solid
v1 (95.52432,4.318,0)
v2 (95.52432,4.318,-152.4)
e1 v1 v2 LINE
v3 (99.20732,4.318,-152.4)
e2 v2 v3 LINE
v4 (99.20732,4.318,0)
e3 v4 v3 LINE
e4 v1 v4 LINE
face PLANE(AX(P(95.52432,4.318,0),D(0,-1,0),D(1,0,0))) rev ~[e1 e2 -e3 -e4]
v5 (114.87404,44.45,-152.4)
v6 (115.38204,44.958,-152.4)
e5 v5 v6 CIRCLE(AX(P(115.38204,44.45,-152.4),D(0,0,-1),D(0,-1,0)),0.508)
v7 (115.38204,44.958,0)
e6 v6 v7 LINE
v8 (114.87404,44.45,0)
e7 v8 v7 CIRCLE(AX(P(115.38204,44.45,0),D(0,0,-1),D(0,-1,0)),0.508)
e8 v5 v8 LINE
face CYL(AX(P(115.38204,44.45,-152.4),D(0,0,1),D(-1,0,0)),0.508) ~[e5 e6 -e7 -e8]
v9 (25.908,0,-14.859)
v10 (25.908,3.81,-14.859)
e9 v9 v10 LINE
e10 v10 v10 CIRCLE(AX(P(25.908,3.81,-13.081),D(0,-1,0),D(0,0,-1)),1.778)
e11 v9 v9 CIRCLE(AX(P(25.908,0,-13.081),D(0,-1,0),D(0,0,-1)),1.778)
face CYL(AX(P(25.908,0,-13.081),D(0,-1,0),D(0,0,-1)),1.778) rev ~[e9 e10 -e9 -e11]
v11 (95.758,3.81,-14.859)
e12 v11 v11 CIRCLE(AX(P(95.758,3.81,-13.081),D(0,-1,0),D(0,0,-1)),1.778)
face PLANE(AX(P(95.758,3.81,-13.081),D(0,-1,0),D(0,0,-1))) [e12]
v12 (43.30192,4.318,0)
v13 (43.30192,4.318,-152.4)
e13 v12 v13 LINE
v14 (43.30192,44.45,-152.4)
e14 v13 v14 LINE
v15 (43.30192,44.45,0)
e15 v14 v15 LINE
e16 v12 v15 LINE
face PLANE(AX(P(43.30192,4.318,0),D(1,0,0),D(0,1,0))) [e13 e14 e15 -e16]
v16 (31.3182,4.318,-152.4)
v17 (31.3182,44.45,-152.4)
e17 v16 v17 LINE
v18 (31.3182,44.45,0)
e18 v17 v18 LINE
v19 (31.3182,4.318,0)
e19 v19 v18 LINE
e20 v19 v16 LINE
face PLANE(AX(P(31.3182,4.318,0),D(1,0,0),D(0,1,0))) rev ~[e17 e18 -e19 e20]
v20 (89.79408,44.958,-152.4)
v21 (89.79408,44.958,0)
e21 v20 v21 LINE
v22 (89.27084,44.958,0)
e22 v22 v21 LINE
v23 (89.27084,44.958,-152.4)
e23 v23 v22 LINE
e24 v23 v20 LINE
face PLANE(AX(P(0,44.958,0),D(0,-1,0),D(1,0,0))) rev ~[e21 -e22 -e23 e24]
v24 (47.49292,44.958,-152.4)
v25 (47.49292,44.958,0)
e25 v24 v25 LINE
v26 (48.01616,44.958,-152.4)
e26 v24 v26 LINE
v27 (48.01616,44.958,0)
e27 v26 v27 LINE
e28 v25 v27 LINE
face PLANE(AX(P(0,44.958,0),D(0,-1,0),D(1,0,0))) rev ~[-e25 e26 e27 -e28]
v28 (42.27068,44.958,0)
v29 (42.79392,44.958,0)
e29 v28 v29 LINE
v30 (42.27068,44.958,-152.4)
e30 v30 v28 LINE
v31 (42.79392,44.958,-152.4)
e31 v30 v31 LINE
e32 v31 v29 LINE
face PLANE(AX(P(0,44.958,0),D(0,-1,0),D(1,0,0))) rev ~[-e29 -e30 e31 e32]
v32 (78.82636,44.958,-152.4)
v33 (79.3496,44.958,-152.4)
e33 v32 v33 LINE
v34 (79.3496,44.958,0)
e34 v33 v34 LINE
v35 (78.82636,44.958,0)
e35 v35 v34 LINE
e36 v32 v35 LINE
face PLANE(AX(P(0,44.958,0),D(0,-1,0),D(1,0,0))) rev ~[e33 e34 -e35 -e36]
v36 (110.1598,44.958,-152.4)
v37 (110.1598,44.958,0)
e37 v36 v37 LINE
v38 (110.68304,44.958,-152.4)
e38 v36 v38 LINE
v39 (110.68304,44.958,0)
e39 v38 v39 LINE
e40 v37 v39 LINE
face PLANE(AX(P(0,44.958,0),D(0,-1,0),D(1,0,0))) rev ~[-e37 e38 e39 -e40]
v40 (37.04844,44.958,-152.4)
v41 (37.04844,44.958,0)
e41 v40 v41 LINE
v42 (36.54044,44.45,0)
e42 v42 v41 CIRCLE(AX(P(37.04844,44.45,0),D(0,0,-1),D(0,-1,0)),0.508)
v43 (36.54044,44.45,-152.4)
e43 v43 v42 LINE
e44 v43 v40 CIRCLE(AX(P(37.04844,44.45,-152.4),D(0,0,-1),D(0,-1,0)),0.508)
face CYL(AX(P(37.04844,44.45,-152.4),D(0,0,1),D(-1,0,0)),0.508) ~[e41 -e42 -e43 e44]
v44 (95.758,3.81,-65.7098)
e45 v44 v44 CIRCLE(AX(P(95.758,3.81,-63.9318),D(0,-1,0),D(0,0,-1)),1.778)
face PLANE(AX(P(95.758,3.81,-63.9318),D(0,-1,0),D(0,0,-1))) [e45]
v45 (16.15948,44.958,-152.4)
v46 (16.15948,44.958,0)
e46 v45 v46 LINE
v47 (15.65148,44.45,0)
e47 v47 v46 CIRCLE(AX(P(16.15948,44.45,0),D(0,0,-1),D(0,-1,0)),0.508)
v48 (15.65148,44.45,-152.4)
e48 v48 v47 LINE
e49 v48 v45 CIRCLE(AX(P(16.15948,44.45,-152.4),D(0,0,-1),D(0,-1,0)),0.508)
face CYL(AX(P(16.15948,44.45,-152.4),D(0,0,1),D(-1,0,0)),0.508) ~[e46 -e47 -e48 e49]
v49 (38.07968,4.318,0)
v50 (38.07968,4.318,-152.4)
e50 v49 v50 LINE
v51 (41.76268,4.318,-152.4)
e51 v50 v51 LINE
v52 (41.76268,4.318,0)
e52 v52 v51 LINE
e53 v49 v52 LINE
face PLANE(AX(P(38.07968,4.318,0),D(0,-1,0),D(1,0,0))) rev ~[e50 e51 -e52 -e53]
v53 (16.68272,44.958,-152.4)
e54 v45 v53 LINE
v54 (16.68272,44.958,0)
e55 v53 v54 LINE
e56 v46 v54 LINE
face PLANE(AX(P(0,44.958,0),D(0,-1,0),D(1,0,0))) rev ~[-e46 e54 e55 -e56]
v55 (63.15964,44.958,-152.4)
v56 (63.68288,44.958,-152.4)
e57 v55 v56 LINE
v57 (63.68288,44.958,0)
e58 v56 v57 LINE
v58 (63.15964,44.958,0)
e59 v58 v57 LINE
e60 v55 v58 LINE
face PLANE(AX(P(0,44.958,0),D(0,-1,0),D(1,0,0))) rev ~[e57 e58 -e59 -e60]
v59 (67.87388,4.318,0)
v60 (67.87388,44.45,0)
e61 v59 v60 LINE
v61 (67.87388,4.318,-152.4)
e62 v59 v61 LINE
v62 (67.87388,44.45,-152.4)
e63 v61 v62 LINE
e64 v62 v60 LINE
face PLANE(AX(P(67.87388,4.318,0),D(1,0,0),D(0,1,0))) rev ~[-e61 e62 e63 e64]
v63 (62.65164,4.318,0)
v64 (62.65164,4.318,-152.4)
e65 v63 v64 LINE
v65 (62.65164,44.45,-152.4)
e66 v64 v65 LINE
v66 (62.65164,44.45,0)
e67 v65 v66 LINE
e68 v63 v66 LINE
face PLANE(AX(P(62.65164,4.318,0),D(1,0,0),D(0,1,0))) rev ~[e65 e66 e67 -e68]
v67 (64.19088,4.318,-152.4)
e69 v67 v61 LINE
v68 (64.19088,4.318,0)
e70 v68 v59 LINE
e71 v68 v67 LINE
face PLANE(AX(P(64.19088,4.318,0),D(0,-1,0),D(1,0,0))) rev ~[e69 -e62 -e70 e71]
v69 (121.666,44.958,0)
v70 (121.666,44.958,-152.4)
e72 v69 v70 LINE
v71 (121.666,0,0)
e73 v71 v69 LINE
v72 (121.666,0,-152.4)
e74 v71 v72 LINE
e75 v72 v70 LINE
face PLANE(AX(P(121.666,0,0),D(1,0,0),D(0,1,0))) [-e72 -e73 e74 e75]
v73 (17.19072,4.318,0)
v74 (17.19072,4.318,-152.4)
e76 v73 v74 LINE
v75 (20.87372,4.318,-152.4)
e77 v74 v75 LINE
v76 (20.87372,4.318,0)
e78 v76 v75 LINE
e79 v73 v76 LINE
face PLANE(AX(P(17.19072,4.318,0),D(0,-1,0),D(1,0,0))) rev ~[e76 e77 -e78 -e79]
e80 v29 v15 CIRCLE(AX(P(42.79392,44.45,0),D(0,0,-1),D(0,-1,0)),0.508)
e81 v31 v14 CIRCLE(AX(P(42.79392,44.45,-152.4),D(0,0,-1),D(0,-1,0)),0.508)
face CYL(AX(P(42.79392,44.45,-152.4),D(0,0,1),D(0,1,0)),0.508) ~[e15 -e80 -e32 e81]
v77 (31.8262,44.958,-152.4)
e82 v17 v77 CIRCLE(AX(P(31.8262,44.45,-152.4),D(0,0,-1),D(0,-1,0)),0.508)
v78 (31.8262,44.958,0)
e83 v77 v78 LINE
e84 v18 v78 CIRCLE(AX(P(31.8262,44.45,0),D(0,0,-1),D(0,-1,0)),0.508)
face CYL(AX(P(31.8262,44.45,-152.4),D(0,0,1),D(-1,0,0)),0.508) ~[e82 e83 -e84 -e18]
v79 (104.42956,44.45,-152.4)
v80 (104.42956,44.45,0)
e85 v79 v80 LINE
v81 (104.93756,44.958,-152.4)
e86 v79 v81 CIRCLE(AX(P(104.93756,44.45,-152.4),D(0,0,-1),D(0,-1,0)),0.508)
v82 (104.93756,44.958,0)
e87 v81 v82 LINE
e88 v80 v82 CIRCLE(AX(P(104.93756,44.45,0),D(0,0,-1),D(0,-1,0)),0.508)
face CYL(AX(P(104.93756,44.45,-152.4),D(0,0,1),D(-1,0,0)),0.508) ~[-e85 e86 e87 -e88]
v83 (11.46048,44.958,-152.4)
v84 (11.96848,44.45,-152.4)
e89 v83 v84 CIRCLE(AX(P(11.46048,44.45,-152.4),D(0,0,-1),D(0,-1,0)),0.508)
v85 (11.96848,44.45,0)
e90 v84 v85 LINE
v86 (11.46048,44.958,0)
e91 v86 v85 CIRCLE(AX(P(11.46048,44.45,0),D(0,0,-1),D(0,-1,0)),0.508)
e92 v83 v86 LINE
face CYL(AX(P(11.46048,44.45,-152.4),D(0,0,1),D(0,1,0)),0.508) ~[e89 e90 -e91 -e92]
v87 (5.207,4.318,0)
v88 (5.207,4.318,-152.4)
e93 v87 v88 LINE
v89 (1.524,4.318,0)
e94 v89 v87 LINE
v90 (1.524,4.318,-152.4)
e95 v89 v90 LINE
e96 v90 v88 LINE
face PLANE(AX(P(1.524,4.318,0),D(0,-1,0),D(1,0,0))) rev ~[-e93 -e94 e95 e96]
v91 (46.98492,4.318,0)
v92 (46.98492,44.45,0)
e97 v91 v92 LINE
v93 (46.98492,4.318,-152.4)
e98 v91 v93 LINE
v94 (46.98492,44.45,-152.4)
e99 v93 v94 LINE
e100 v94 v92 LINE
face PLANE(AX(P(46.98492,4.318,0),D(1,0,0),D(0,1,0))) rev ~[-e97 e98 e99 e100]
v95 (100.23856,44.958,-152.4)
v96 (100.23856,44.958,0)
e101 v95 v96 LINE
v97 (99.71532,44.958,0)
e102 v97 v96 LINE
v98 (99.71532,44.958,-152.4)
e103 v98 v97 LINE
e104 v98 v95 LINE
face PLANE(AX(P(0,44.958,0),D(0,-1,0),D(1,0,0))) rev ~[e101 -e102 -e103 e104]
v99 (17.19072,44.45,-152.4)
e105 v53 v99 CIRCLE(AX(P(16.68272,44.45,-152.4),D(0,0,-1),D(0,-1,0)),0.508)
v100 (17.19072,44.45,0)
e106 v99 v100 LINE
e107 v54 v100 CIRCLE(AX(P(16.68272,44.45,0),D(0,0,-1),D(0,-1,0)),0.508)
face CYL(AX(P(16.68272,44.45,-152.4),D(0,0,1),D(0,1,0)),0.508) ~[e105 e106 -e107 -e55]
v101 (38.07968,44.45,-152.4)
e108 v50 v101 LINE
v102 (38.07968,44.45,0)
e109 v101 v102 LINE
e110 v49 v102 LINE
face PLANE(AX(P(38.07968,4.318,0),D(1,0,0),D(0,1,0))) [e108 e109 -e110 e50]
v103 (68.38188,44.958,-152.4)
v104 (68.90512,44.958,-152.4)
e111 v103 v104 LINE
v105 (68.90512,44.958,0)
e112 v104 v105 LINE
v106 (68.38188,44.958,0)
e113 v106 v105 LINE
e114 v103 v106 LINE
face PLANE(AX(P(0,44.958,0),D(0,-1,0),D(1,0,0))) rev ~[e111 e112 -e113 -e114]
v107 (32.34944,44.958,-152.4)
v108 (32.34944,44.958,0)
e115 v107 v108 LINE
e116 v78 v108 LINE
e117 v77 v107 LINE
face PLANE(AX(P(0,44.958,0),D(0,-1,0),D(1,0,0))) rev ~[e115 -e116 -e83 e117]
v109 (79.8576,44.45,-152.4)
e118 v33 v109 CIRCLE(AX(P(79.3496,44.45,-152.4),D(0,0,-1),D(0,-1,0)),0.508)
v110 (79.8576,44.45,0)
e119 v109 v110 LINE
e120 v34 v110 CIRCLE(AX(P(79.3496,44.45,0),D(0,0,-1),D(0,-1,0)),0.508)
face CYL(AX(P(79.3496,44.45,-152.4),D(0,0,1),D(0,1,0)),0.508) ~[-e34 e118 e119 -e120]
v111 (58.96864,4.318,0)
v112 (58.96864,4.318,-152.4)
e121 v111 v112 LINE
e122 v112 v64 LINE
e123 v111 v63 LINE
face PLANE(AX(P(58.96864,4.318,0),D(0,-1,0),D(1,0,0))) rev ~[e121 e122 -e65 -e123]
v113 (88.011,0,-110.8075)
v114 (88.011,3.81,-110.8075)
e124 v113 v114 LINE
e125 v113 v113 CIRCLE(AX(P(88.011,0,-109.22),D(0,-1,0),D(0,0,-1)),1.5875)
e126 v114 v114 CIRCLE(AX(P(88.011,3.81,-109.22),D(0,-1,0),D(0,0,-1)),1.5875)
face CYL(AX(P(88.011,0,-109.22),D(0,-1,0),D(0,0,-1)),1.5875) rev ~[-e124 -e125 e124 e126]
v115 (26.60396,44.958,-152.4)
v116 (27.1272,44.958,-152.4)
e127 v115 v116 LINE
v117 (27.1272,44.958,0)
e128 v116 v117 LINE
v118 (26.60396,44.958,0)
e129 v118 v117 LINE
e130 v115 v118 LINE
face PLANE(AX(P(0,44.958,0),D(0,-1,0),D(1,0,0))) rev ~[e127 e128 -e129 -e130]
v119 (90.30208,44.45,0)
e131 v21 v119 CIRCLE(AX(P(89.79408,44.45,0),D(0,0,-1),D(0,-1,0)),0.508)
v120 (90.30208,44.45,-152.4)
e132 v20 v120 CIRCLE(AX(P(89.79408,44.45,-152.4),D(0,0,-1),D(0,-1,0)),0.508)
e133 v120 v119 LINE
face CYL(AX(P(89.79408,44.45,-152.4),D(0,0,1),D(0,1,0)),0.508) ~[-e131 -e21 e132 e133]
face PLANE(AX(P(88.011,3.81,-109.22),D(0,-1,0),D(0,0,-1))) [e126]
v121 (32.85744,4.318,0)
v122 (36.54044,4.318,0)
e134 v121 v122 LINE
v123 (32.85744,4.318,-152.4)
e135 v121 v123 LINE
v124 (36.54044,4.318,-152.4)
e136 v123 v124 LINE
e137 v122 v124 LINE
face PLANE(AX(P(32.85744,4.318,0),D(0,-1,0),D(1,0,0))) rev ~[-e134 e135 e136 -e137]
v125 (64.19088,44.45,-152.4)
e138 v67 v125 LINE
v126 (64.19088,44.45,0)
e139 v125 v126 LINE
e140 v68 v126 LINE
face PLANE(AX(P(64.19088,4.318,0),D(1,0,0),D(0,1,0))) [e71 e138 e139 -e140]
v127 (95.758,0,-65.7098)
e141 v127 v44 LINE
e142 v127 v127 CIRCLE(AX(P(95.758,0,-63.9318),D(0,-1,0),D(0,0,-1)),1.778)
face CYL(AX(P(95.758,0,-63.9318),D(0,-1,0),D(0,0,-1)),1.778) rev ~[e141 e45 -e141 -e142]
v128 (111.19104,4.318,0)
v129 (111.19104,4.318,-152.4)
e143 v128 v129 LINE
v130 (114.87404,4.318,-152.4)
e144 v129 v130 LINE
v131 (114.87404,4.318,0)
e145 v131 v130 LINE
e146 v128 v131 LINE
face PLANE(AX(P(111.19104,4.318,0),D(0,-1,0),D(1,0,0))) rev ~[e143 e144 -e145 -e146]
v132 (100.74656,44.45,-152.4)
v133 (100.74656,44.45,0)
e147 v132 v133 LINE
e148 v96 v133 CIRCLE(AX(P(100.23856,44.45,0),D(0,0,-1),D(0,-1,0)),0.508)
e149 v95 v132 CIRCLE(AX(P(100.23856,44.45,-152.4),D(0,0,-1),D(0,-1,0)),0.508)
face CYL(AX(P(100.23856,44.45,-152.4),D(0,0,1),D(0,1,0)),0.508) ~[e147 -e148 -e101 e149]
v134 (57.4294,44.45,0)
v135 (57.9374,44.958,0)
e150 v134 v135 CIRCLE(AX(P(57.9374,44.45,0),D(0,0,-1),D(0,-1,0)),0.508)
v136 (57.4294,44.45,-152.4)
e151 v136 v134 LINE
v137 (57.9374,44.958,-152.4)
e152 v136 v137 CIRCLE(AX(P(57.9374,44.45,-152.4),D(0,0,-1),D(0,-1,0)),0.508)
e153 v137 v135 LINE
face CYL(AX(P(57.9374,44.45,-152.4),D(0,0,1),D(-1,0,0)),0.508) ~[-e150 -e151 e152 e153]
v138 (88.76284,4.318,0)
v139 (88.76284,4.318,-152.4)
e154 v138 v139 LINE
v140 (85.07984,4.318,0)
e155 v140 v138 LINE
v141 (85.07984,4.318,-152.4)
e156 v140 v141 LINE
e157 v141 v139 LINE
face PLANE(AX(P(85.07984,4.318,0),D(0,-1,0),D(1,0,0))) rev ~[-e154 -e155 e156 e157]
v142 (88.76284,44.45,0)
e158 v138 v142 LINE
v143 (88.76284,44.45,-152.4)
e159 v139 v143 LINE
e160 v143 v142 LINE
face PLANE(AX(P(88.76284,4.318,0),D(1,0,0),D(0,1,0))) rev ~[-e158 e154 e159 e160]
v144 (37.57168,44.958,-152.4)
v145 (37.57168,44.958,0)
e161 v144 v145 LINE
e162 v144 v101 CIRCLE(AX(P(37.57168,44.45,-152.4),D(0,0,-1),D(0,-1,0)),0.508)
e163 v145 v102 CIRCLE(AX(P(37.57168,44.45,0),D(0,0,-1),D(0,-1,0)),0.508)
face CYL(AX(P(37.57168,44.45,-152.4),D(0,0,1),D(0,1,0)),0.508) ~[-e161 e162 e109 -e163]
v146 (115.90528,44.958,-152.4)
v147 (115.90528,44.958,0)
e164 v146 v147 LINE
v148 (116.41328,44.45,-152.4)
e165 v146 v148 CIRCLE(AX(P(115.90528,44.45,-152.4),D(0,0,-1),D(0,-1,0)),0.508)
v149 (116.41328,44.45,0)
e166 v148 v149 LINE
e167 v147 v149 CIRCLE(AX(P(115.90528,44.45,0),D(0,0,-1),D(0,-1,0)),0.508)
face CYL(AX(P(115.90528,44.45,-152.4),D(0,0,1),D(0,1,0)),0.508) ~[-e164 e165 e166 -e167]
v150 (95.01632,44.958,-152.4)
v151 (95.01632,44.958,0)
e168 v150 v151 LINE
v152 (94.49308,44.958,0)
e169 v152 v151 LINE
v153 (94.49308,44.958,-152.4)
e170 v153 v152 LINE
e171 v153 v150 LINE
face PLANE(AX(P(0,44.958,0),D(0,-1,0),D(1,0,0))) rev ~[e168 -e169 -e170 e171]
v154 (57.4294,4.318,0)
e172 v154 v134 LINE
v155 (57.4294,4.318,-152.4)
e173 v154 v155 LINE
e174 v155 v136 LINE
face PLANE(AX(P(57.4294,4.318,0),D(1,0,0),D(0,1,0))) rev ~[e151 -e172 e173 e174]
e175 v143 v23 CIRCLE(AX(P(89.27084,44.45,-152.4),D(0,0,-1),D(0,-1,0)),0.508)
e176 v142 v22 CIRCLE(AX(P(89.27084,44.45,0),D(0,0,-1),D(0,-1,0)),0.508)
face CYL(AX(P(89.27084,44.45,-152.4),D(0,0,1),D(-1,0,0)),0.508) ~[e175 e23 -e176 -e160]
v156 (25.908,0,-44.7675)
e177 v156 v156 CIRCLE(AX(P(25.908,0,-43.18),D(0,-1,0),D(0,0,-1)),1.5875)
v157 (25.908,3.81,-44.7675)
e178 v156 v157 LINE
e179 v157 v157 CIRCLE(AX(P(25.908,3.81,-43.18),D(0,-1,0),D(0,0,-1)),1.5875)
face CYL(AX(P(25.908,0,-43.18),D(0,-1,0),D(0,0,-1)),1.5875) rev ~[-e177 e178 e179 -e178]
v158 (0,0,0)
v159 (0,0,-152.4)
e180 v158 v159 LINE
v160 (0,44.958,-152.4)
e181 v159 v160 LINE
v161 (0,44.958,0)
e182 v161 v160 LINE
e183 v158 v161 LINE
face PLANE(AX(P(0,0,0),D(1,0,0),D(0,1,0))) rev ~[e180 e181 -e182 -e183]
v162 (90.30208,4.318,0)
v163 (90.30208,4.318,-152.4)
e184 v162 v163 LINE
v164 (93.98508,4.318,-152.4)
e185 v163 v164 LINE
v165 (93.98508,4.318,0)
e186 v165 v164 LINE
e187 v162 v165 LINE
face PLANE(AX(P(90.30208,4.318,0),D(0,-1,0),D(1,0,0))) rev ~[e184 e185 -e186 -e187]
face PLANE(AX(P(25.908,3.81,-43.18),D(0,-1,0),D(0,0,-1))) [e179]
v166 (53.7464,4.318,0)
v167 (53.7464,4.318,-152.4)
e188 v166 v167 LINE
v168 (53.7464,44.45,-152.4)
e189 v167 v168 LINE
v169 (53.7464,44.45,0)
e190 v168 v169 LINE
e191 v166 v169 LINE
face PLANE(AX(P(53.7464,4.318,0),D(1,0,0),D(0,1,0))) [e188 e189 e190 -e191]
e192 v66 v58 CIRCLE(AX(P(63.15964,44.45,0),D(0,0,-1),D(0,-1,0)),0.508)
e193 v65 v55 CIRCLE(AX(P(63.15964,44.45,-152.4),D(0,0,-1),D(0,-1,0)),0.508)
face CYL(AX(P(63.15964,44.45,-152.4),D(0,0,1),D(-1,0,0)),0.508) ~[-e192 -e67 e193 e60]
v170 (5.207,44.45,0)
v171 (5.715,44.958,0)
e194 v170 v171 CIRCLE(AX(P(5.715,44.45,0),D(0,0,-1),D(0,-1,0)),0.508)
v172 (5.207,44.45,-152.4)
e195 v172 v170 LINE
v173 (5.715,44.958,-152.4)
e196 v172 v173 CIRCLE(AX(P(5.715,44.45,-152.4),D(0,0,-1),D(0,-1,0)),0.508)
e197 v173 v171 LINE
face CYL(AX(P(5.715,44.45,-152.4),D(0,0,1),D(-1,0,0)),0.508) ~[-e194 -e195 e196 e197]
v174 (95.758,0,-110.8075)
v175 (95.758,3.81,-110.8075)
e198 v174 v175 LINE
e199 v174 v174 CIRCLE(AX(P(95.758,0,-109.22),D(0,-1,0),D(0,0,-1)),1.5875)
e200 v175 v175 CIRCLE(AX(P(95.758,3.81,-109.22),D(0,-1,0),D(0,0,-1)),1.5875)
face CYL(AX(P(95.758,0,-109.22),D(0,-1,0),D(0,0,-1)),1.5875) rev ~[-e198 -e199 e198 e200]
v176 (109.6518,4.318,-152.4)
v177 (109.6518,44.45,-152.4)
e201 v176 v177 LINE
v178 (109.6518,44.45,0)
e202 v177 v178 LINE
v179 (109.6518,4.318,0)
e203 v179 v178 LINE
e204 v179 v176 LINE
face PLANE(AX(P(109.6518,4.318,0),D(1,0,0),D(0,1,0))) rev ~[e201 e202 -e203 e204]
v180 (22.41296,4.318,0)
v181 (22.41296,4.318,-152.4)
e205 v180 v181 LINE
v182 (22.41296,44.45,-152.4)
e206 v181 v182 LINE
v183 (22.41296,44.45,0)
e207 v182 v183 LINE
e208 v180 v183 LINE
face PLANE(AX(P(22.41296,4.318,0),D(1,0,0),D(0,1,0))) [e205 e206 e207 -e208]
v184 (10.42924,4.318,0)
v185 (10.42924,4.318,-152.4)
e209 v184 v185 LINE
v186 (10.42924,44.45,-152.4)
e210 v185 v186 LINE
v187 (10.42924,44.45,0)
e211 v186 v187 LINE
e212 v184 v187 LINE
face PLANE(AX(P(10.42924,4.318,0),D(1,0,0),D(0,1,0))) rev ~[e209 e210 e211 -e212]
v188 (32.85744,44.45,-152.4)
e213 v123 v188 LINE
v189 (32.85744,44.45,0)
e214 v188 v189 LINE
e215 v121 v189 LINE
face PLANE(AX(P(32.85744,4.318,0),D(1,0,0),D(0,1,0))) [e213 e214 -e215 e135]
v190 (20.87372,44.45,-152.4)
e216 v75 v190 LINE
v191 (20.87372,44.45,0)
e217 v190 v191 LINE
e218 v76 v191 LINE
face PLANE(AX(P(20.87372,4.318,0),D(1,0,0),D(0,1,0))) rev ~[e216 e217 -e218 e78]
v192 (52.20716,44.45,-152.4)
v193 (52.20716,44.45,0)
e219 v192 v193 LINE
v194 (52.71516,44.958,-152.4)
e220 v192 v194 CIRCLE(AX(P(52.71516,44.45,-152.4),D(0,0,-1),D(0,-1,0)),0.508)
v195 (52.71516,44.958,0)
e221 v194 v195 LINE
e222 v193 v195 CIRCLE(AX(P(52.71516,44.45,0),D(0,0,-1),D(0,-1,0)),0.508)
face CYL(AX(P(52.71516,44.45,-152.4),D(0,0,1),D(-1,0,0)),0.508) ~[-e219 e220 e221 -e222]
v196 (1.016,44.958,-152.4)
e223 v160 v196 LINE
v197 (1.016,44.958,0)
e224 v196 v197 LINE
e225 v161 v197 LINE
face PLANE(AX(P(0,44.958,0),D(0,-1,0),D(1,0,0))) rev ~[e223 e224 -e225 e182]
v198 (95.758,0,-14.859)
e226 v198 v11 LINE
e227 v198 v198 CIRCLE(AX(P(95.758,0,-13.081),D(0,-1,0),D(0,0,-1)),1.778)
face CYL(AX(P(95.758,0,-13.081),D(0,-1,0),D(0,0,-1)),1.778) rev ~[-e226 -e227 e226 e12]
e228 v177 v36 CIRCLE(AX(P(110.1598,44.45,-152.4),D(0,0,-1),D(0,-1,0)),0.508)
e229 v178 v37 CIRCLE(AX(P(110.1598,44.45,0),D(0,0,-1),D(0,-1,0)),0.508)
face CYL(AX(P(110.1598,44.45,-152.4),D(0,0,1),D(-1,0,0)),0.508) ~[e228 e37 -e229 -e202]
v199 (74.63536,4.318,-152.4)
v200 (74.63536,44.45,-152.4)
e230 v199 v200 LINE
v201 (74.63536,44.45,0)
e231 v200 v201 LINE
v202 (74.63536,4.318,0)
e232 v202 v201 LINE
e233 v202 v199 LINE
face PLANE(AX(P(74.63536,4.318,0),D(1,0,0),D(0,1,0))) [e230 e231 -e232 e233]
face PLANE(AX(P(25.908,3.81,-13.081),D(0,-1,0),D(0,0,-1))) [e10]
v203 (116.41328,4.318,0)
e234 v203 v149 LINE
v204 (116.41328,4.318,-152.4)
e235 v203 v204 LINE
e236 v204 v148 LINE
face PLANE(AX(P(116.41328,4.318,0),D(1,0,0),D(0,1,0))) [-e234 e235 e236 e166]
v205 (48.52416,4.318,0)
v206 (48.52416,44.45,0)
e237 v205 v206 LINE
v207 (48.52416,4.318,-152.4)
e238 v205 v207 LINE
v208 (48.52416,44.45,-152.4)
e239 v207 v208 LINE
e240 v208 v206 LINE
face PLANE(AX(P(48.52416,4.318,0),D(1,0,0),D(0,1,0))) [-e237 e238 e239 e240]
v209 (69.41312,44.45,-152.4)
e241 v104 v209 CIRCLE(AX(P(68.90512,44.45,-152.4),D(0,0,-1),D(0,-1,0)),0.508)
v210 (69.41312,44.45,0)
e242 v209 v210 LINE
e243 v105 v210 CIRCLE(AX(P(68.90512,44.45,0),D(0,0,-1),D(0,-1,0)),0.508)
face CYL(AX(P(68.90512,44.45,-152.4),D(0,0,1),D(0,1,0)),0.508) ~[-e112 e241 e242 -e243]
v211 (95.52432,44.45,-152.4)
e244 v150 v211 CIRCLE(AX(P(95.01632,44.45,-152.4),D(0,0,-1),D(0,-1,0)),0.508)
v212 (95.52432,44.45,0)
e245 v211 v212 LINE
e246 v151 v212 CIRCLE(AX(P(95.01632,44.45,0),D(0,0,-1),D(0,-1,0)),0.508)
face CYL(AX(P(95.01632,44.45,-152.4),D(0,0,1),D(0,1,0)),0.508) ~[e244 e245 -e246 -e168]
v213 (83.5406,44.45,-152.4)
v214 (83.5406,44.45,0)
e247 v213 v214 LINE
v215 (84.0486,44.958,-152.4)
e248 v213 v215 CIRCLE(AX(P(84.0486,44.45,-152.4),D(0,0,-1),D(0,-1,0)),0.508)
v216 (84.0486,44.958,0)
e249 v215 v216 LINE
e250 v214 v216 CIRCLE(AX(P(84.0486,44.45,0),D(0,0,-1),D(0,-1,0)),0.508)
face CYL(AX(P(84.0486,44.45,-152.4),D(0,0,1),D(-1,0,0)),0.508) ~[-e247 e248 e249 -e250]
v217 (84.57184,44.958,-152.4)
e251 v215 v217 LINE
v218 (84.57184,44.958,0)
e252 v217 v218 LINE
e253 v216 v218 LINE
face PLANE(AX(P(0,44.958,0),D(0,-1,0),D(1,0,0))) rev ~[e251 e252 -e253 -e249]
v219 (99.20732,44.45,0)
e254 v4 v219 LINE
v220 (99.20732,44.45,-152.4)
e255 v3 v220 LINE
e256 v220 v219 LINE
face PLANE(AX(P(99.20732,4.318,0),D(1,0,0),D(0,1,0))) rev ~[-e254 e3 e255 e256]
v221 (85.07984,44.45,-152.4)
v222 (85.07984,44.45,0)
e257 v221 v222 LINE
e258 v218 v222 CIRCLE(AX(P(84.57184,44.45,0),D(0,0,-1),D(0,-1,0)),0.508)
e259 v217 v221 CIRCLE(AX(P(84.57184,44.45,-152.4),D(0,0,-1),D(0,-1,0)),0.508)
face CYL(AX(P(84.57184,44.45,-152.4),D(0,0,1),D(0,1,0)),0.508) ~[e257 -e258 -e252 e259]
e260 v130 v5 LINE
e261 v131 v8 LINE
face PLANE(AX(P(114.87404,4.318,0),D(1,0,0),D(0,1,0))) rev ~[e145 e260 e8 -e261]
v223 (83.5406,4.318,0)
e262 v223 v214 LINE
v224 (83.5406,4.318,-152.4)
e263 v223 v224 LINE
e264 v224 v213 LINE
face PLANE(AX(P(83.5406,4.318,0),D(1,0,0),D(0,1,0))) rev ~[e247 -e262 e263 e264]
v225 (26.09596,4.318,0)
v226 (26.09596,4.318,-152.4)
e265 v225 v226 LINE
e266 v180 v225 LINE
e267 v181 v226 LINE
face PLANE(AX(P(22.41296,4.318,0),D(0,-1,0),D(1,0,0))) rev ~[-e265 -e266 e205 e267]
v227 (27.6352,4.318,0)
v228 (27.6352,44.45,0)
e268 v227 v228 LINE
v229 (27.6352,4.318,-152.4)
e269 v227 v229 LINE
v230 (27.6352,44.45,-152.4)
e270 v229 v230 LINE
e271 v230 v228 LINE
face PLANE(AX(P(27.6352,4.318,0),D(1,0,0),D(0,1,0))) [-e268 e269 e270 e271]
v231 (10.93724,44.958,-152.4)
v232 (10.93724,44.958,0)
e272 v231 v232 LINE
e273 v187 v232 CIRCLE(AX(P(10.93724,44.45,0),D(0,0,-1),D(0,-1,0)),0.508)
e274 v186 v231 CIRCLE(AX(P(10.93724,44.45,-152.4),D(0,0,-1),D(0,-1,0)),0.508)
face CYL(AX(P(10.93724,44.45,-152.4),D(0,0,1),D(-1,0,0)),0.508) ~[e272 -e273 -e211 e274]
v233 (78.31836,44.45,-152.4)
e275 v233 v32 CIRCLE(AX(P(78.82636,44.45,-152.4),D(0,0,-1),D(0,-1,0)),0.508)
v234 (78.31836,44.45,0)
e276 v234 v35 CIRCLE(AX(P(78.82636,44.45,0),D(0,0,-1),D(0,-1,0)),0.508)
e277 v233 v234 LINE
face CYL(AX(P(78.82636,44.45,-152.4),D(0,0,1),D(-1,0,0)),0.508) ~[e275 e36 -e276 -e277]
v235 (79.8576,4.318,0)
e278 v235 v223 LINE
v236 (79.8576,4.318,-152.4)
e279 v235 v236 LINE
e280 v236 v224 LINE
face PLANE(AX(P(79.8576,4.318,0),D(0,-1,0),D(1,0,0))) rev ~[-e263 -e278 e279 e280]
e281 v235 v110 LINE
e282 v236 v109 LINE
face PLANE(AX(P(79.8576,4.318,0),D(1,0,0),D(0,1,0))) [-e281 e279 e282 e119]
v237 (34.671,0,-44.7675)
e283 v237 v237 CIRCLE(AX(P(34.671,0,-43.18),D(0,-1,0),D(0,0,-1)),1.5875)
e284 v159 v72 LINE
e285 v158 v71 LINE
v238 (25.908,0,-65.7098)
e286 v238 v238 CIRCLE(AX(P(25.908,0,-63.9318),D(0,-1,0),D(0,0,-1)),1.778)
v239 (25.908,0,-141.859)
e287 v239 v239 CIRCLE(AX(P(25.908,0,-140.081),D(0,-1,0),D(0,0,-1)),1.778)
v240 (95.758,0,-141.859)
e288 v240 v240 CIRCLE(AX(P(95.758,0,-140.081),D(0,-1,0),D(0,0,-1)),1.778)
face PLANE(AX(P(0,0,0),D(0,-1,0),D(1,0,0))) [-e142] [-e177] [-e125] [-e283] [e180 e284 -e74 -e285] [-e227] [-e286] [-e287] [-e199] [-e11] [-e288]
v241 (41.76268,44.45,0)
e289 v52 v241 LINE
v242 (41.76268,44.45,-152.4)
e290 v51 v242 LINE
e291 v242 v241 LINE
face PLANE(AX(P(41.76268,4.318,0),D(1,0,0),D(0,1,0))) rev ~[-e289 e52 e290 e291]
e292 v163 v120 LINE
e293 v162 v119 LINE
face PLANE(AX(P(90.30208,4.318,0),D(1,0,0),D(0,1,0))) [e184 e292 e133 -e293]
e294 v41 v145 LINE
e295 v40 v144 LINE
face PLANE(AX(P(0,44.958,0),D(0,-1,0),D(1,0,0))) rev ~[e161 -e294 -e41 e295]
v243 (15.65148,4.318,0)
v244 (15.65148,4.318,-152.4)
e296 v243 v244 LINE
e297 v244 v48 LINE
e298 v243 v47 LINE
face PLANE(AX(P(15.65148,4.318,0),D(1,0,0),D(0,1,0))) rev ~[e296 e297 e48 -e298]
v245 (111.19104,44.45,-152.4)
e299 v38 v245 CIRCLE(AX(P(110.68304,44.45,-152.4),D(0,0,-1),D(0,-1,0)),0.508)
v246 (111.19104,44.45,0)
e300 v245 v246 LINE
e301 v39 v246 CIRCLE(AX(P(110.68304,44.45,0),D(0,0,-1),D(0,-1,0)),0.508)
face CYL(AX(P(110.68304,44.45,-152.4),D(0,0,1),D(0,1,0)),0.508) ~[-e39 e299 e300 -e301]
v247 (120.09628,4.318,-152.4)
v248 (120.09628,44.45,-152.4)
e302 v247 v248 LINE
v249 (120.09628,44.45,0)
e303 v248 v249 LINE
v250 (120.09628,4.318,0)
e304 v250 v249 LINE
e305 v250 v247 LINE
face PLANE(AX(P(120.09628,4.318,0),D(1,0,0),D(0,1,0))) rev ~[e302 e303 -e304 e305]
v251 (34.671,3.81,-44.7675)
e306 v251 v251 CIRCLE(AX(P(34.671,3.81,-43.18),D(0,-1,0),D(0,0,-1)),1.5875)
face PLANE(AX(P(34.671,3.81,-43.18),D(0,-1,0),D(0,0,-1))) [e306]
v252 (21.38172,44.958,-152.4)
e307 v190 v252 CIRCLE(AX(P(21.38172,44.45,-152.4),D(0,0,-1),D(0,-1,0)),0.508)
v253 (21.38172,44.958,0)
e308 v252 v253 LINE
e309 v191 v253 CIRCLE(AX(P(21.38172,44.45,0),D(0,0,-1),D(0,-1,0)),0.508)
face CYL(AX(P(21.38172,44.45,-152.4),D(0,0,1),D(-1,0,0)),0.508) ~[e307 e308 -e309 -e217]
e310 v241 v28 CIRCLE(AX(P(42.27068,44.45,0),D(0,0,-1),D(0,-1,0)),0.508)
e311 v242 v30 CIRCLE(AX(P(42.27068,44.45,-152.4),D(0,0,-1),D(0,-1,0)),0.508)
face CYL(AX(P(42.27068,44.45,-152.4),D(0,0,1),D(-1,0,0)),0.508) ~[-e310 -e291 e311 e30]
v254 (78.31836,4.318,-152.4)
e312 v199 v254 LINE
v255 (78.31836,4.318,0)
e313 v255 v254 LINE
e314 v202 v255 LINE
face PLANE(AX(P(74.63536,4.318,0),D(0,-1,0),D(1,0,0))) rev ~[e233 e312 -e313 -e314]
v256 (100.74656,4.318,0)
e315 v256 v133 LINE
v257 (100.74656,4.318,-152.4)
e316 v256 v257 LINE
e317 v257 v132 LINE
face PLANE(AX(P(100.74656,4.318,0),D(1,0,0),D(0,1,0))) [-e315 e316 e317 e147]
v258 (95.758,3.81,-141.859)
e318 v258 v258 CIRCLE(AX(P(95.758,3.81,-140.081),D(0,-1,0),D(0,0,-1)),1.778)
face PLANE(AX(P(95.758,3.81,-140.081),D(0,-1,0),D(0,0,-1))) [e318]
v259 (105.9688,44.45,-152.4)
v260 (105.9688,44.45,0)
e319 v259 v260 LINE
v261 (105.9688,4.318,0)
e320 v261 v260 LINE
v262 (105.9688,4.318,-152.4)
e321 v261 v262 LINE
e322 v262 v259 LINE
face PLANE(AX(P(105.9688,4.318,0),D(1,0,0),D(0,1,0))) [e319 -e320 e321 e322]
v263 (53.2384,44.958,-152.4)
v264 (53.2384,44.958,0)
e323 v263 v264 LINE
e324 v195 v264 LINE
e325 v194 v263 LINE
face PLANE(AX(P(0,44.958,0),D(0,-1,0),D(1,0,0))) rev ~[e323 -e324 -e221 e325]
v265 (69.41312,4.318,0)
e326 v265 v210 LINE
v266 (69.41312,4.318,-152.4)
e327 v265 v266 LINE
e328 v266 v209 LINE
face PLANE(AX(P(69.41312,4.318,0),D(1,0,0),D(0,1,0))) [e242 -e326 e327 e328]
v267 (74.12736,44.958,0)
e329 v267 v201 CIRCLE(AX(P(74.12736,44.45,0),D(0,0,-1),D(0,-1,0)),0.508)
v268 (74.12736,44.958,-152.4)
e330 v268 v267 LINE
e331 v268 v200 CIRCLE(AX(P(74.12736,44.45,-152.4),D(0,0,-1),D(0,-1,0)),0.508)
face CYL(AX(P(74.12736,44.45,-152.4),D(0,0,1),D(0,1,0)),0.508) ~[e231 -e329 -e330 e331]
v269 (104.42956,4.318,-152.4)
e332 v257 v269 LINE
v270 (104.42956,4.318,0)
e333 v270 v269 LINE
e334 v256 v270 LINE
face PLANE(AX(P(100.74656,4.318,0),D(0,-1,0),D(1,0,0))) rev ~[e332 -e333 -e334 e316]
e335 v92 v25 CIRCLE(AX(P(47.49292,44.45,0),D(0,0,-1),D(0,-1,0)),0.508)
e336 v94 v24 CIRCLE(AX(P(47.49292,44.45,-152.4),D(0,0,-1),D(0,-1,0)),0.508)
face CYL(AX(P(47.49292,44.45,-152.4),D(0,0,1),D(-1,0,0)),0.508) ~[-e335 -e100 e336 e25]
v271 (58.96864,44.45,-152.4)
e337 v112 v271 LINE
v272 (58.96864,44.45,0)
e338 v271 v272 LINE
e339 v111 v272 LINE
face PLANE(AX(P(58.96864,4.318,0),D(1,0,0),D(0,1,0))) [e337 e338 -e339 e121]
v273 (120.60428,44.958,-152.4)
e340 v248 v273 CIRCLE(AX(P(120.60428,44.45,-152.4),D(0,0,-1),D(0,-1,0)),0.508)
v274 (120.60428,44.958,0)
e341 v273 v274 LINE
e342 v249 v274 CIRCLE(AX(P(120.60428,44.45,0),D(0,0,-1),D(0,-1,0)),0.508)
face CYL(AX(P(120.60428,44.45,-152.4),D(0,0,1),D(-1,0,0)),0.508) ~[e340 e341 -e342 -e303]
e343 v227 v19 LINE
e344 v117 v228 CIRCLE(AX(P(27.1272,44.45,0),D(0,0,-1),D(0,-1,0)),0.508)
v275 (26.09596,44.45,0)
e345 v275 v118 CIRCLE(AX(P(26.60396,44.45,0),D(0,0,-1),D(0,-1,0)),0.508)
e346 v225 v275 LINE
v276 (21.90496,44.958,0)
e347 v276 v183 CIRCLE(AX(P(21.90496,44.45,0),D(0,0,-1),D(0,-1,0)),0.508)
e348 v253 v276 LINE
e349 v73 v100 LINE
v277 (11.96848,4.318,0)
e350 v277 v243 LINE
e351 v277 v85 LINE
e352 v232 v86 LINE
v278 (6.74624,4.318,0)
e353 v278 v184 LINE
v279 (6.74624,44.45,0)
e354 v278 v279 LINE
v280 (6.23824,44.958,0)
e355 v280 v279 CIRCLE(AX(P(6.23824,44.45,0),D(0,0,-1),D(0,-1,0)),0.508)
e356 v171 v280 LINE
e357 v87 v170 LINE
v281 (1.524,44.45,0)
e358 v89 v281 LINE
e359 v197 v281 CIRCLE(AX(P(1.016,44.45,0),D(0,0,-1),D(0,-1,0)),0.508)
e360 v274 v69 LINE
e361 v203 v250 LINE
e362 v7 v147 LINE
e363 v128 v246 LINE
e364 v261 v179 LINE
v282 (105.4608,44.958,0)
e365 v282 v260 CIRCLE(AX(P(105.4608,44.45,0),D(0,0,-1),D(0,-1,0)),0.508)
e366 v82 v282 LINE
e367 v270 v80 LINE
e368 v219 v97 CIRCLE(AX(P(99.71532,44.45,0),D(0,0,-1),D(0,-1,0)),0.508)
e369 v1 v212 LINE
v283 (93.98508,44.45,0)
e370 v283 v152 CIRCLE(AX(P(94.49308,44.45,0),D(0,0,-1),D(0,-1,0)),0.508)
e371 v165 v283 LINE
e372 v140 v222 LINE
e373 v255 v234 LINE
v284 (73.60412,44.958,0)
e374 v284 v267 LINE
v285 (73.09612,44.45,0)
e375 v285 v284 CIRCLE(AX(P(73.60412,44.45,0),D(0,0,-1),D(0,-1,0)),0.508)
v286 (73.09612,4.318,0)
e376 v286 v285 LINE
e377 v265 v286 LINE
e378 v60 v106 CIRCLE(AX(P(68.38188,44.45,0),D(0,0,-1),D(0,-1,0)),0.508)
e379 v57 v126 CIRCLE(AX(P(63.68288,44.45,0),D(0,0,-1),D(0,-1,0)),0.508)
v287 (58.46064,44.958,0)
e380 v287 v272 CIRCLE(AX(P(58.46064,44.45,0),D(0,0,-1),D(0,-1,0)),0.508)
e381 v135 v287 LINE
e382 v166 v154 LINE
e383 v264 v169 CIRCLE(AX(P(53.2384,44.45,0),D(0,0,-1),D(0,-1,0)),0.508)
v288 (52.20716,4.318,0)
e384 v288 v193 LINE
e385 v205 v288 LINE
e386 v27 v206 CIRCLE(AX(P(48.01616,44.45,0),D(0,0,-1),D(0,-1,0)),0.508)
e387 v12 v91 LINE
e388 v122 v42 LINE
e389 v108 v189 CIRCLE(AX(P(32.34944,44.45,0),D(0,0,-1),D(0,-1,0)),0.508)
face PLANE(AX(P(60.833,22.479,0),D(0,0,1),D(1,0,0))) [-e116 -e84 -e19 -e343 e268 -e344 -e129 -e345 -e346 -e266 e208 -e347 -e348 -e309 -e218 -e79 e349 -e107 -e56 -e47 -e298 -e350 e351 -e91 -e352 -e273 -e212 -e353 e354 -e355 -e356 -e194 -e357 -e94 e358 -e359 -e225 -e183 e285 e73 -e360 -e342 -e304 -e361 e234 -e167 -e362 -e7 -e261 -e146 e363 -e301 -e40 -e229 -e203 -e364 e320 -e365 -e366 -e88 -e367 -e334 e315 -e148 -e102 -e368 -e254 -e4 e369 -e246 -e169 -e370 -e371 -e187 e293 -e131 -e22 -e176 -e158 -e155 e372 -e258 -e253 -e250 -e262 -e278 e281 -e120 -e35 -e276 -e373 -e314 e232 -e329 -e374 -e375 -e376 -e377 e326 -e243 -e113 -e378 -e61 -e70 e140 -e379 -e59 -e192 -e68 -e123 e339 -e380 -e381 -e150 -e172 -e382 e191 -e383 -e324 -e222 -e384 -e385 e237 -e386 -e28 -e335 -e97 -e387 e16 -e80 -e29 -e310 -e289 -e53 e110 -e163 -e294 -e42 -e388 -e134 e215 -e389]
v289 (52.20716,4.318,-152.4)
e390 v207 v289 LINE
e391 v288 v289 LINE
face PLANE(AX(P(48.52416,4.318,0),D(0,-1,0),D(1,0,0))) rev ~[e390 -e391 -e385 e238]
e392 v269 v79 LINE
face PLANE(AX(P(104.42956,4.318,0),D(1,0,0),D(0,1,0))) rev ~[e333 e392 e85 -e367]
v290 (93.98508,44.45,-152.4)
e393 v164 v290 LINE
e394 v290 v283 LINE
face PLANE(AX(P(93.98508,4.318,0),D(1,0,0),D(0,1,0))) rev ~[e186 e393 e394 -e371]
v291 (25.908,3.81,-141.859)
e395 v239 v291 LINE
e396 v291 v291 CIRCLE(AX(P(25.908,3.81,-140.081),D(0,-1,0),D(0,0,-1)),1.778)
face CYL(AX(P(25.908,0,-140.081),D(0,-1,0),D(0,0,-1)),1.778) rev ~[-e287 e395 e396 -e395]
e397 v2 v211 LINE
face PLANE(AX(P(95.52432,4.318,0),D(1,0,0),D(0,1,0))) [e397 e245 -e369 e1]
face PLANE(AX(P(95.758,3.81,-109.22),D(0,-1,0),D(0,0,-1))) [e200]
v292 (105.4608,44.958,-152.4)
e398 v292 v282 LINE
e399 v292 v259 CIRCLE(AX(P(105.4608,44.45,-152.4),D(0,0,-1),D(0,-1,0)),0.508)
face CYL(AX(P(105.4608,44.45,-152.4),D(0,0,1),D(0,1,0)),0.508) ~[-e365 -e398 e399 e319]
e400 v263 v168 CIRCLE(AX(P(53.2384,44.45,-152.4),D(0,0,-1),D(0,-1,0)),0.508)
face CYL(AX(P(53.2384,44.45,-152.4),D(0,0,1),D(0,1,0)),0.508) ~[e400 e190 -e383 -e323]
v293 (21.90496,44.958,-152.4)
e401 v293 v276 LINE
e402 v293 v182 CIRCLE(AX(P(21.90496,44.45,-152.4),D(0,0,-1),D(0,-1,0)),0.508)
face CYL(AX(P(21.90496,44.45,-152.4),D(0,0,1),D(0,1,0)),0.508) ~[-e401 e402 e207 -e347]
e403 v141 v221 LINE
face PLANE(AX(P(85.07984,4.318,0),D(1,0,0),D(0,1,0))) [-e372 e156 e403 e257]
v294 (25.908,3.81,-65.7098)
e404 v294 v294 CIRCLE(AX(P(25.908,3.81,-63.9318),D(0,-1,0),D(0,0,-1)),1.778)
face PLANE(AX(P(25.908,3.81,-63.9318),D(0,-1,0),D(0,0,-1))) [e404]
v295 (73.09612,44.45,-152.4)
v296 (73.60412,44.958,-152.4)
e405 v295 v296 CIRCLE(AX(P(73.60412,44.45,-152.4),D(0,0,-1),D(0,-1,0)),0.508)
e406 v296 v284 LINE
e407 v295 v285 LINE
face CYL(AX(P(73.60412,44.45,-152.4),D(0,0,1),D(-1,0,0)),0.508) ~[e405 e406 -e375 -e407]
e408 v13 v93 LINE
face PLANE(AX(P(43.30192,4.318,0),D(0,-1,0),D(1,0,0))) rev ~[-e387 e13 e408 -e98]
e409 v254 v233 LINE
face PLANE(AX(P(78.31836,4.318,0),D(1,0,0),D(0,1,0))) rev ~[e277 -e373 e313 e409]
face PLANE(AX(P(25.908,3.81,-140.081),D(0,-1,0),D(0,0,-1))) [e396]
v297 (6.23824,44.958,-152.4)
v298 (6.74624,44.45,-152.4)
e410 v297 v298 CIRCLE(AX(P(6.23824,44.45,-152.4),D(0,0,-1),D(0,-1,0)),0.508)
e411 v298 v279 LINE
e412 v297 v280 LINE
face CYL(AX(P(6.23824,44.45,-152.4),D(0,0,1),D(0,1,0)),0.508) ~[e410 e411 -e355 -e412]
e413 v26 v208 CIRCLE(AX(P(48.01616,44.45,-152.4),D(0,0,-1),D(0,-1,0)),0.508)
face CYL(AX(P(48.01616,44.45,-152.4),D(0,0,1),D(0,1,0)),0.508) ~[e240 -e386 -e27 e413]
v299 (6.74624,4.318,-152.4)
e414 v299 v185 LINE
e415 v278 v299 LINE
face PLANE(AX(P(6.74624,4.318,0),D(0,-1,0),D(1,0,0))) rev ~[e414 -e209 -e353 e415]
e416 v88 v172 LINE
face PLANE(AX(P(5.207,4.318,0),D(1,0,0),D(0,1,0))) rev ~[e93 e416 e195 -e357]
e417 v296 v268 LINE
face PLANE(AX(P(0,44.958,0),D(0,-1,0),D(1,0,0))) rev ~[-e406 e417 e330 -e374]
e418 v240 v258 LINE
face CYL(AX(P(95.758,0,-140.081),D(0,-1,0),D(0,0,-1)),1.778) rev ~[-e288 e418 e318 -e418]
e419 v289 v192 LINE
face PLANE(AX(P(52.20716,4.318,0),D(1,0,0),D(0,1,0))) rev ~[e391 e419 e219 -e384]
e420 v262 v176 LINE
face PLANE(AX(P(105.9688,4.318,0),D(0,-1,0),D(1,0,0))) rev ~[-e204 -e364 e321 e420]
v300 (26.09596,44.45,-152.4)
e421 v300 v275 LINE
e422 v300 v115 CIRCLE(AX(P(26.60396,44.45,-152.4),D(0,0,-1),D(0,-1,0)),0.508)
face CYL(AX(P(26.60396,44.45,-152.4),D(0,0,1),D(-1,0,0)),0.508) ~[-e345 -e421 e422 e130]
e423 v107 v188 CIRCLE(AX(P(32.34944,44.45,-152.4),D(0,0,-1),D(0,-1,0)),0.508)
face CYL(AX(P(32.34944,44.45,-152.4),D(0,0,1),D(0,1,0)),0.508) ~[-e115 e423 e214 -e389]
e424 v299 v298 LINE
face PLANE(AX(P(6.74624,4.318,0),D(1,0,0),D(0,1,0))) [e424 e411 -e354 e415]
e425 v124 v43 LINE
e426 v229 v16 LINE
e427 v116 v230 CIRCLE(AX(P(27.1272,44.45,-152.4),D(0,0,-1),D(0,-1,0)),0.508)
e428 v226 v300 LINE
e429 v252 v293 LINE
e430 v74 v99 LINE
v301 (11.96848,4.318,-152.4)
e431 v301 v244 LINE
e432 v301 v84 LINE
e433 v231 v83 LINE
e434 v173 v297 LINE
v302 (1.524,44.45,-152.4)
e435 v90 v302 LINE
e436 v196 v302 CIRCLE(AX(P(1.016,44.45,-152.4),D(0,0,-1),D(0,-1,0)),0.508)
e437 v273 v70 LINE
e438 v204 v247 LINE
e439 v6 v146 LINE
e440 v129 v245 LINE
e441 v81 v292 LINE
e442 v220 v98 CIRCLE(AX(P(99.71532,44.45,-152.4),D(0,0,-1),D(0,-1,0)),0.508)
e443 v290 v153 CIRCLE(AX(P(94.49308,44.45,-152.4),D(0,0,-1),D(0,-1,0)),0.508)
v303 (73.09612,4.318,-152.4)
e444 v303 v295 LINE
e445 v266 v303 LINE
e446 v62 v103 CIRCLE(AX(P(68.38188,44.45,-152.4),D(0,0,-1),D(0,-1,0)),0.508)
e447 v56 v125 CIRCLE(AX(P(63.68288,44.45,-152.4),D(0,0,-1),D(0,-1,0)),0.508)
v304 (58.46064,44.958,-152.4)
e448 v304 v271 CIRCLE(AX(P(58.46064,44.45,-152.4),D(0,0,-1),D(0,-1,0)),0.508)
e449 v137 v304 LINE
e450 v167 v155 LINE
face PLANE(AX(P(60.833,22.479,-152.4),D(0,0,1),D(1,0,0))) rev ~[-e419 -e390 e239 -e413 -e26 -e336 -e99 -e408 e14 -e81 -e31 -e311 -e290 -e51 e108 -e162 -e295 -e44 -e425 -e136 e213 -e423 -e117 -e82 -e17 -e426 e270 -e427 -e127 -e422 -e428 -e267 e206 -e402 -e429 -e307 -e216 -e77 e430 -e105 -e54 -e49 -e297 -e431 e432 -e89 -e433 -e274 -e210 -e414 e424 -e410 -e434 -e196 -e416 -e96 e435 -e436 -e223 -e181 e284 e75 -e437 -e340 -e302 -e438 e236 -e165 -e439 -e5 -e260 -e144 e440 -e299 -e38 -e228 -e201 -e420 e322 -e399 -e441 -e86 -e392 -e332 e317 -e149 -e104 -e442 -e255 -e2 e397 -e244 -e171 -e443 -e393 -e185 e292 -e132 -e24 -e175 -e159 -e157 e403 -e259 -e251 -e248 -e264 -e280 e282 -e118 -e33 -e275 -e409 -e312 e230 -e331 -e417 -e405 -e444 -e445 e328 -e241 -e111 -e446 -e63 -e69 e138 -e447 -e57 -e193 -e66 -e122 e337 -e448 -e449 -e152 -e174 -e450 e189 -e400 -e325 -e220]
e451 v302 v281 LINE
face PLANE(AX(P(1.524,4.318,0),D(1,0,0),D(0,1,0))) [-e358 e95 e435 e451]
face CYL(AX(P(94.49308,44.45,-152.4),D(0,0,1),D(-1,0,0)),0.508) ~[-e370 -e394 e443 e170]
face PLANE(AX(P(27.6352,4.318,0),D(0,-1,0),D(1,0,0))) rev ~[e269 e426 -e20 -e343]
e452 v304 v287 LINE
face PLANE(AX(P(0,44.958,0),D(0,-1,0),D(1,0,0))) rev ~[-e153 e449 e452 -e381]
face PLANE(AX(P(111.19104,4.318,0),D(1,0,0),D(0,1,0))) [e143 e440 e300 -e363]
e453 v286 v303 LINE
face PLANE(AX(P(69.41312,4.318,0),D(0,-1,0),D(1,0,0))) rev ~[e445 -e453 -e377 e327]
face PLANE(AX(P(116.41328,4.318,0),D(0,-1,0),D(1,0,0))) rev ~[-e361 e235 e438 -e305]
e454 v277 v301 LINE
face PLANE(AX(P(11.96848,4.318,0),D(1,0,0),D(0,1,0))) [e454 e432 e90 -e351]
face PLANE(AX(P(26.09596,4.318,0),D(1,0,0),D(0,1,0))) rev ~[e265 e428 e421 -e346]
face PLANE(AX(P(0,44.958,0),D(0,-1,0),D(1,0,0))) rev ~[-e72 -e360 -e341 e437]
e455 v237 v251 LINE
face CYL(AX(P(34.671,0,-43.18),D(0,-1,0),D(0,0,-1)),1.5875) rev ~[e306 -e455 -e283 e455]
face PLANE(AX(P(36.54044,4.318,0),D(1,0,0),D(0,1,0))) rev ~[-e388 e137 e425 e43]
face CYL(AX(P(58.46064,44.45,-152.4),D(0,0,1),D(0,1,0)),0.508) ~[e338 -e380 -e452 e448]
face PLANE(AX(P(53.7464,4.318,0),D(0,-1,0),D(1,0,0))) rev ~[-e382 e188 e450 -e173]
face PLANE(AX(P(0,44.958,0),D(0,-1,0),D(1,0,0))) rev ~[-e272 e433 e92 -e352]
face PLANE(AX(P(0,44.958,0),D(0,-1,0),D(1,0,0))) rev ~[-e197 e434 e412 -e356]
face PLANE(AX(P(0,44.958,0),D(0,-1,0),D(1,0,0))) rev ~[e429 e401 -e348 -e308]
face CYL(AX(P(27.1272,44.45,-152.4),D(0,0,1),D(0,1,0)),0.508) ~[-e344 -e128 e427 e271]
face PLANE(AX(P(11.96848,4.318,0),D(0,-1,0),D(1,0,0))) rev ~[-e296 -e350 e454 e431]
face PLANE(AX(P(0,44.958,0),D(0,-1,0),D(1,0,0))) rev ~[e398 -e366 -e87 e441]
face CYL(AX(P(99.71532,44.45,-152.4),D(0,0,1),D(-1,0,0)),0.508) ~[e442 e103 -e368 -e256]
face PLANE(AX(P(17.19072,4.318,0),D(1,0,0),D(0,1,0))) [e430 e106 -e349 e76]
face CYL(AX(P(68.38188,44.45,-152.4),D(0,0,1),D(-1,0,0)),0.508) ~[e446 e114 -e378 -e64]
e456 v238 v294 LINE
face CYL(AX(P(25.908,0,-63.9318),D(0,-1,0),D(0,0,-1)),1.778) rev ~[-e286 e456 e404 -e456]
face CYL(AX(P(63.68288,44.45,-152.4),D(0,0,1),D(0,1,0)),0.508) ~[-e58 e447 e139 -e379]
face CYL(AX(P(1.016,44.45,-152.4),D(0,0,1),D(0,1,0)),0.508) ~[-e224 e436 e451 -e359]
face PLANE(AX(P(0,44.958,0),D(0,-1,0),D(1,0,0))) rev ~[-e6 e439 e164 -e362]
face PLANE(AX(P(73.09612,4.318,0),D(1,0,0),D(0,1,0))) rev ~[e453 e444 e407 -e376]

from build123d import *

# Parameters (mm, degrees)
SKETCH1_W              = 121.666
SKETCH1_H              = 44.958
EXTRUDE1_DEPTH         = 152.4
SKETCH2_W              = 3.683
SKETCH2_H              = 43.292875233
EXTRUDE2_DEPTH         = 152.4
FILLET1_R              = 0.508
LPATTERN1_COUNT        = 23
LPATTERN1_PITCH        = 5.22224
FILLET1_OF_LPATTERN1_R = 0.508
SKETCH4_R              = 1.5875
EXTRUDE3_DEPTH         = 3.81
SKETCH5_R              = 1.5875
EXTRUDE4_DEPTH         = 3.81
SKETCH6_R              = 1.778
EXTRUDE5_DEPTH         = 3.81


with BuildPart() as part:
    # Sketch1 → Extrude1 (new body)
    with BuildSketch(Plane.XY):
        with Locations((60.833, 22.479)):
            Rectangle(SKETCH1_W, SKETCH1_H)
    extrude(amount=-EXTRUDE1_DEPTH)

    # Sketch2 → Extrude2 (cut)
    with BuildSketch(Plane.XY):
        with Locations((3.3655, 25.964437616)):
            Rectangle(SKETCH2_W, SKETCH2_H)
    extrude2 = extrude(amount=-EXTRUDE2_DEPTH, mode=Mode.SUBTRACT)

    # Fillet1
    fillet1_edges = [part.edges().sort_by_distance(p)[0] for p in [
        (1.524, 44.958, -76.2),
        (5.207, 44.958, -76.2),
    ]]
    fillet(fillet1_edges, radius=FILLET1_R)

    # LPattern1: Extrude2 ×23
    with Locations(*[(i * LPATTERN1_PITCH, 0, 0) for i in range(1, LPATTERN1_COUNT)]):
        add(extrude2, mode=Mode.SUBTRACT)

    # Fillet1 of LPattern1
    fillet1_of_lpattern1_edges = [part.edges().sort_by_distance(p)[0] for p in [
        (6.74624, 44.958, -76.2),
        (10.42924, 44.958, -76.2),
        (11.96848, 44.958, -76.2),
        (15.65148, 44.958, -76.2),
        (17.19072, 44.958, -76.2),
        (20.87372, 44.958, -76.2),
        (22.41296, 44.958, -76.2),
        (26.09596, 44.958, -76.2),
        (27.6352, 44.958, -76.2),
        (31.3182, 44.958, -76.2),
        (32.85744, 44.958, -76.2),
        (36.54044, 44.958, -76.2),
        (38.07968, 44.958, -76.2),
        (41.76268, 44.958, -76.2),
        (43.30192, 44.958, -76.2),
        (46.98492, 44.958, -76.2),
        (48.52416, 44.958, -76.2),
        (52.20716, 44.958, -76.2),
        (53.7464, 44.958, -76.2),
        (57.4294, 44.958, -76.2),
        (58.96864, 44.958, -76.2),
        (62.65164, 44.958, -76.2),
        (64.19088, 44.958, -76.2),
        (67.87388, 44.958, -76.2),
        (69.41312, 44.958, -76.2),
        (73.09612, 44.958, -76.2),
        (74.63536, 44.958, -76.2),
        (78.31836, 44.958, -76.2),
        (79.8576, 44.958, -76.2),
        (83.5406, 44.958, -76.2),
        (85.07984, 44.958, -76.2),
        (88.76284, 44.958, -76.2),
        (90.30208, 44.958, -76.2),
        (93.98508, 44.958, -76.2),
        (95.52432, 44.958, -76.2),
        (99.20732, 44.958, -76.2),
        (100.74656, 44.958, -76.2),
        (104.42956, 44.958, -76.2),
        (105.9688, 44.958, -76.2),
        (109.6518, 44.958, -76.2),
        (111.19104, 44.958, -76.2),
        (114.87404, 44.958, -76.2),
        (116.41328, 44.958, -76.2),
        (120.09628, 44.958, -76.2),
    ]]
    fillet(fillet1_of_lpattern1_edges, radius=FILLET1_OF_LPATTERN1_R)

    # Sketch4 → Extrude3 (cut)
    with BuildSketch(Plane.XZ):
        with Locations(Location((34.671, -43.18, 0), (0, 0, 270))):  # turned: the seam where the file's is
            Circle(SKETCH4_R)
        with Locations(Location((88.011, -109.22, 0), (0, 0, 270))):  # turned: the seam where the file's is
            Circle(SKETCH4_R)
    extrude(amount=-EXTRUDE3_DEPTH, mode=Mode.SUBTRACT)

    # Sketch5 → Extrude4 (cut)
    with BuildSketch(Plane.XZ):
        with Locations(Location((25.908, -43.18, 0), (0, 0, 270))):  # turned: the seam where the file's is
            Circle(SKETCH5_R)
        with Locations(Location((95.758, -109.22, 0), (0, 0, 270))):  # turned: the seam where the file's is
            Circle(SKETCH5_R)
    extrude(amount=-EXTRUDE4_DEPTH, mode=Mode.SUBTRACT)

    # Sketch6 → Extrude5 (cut)
    with BuildSketch(Plane.XZ):
        with Locations(Location((25.908, -13.081, 0), (0, 0, 270))):  # turned: the seam where the file's is
            Circle(SKETCH6_R)
        with Locations(Location((95.758, -13.081, 0), (0, 0, 270))):  # turned: the seam where the file's is
            Circle(SKETCH6_R)
        with Locations(Location((25.908, -63.9318, 0), (0, 0, 270))):  # turned: the seam where the file's is
            Circle(SKETCH6_R)
        with Locations(Location((95.758, -63.9318, 0), (0, 0, 270))):  # turned: the seam where the file's is
            Circle(SKETCH6_R)
        with Locations(Location((25.908, -140.081, 0), (0, 0, 270))):  # turned: the seam where the file's is
            Circle(SKETCH6_R)
        with Locations(Location((95.758, -140.081, 0), (0, 0, 270))):  # turned: the seam where the file's is
            Circle(SKETCH6_R)
    extrude(amount=-EXTRUDE5_DEPTH, mode=Mode.SUBTRACT)


solid = part.part
